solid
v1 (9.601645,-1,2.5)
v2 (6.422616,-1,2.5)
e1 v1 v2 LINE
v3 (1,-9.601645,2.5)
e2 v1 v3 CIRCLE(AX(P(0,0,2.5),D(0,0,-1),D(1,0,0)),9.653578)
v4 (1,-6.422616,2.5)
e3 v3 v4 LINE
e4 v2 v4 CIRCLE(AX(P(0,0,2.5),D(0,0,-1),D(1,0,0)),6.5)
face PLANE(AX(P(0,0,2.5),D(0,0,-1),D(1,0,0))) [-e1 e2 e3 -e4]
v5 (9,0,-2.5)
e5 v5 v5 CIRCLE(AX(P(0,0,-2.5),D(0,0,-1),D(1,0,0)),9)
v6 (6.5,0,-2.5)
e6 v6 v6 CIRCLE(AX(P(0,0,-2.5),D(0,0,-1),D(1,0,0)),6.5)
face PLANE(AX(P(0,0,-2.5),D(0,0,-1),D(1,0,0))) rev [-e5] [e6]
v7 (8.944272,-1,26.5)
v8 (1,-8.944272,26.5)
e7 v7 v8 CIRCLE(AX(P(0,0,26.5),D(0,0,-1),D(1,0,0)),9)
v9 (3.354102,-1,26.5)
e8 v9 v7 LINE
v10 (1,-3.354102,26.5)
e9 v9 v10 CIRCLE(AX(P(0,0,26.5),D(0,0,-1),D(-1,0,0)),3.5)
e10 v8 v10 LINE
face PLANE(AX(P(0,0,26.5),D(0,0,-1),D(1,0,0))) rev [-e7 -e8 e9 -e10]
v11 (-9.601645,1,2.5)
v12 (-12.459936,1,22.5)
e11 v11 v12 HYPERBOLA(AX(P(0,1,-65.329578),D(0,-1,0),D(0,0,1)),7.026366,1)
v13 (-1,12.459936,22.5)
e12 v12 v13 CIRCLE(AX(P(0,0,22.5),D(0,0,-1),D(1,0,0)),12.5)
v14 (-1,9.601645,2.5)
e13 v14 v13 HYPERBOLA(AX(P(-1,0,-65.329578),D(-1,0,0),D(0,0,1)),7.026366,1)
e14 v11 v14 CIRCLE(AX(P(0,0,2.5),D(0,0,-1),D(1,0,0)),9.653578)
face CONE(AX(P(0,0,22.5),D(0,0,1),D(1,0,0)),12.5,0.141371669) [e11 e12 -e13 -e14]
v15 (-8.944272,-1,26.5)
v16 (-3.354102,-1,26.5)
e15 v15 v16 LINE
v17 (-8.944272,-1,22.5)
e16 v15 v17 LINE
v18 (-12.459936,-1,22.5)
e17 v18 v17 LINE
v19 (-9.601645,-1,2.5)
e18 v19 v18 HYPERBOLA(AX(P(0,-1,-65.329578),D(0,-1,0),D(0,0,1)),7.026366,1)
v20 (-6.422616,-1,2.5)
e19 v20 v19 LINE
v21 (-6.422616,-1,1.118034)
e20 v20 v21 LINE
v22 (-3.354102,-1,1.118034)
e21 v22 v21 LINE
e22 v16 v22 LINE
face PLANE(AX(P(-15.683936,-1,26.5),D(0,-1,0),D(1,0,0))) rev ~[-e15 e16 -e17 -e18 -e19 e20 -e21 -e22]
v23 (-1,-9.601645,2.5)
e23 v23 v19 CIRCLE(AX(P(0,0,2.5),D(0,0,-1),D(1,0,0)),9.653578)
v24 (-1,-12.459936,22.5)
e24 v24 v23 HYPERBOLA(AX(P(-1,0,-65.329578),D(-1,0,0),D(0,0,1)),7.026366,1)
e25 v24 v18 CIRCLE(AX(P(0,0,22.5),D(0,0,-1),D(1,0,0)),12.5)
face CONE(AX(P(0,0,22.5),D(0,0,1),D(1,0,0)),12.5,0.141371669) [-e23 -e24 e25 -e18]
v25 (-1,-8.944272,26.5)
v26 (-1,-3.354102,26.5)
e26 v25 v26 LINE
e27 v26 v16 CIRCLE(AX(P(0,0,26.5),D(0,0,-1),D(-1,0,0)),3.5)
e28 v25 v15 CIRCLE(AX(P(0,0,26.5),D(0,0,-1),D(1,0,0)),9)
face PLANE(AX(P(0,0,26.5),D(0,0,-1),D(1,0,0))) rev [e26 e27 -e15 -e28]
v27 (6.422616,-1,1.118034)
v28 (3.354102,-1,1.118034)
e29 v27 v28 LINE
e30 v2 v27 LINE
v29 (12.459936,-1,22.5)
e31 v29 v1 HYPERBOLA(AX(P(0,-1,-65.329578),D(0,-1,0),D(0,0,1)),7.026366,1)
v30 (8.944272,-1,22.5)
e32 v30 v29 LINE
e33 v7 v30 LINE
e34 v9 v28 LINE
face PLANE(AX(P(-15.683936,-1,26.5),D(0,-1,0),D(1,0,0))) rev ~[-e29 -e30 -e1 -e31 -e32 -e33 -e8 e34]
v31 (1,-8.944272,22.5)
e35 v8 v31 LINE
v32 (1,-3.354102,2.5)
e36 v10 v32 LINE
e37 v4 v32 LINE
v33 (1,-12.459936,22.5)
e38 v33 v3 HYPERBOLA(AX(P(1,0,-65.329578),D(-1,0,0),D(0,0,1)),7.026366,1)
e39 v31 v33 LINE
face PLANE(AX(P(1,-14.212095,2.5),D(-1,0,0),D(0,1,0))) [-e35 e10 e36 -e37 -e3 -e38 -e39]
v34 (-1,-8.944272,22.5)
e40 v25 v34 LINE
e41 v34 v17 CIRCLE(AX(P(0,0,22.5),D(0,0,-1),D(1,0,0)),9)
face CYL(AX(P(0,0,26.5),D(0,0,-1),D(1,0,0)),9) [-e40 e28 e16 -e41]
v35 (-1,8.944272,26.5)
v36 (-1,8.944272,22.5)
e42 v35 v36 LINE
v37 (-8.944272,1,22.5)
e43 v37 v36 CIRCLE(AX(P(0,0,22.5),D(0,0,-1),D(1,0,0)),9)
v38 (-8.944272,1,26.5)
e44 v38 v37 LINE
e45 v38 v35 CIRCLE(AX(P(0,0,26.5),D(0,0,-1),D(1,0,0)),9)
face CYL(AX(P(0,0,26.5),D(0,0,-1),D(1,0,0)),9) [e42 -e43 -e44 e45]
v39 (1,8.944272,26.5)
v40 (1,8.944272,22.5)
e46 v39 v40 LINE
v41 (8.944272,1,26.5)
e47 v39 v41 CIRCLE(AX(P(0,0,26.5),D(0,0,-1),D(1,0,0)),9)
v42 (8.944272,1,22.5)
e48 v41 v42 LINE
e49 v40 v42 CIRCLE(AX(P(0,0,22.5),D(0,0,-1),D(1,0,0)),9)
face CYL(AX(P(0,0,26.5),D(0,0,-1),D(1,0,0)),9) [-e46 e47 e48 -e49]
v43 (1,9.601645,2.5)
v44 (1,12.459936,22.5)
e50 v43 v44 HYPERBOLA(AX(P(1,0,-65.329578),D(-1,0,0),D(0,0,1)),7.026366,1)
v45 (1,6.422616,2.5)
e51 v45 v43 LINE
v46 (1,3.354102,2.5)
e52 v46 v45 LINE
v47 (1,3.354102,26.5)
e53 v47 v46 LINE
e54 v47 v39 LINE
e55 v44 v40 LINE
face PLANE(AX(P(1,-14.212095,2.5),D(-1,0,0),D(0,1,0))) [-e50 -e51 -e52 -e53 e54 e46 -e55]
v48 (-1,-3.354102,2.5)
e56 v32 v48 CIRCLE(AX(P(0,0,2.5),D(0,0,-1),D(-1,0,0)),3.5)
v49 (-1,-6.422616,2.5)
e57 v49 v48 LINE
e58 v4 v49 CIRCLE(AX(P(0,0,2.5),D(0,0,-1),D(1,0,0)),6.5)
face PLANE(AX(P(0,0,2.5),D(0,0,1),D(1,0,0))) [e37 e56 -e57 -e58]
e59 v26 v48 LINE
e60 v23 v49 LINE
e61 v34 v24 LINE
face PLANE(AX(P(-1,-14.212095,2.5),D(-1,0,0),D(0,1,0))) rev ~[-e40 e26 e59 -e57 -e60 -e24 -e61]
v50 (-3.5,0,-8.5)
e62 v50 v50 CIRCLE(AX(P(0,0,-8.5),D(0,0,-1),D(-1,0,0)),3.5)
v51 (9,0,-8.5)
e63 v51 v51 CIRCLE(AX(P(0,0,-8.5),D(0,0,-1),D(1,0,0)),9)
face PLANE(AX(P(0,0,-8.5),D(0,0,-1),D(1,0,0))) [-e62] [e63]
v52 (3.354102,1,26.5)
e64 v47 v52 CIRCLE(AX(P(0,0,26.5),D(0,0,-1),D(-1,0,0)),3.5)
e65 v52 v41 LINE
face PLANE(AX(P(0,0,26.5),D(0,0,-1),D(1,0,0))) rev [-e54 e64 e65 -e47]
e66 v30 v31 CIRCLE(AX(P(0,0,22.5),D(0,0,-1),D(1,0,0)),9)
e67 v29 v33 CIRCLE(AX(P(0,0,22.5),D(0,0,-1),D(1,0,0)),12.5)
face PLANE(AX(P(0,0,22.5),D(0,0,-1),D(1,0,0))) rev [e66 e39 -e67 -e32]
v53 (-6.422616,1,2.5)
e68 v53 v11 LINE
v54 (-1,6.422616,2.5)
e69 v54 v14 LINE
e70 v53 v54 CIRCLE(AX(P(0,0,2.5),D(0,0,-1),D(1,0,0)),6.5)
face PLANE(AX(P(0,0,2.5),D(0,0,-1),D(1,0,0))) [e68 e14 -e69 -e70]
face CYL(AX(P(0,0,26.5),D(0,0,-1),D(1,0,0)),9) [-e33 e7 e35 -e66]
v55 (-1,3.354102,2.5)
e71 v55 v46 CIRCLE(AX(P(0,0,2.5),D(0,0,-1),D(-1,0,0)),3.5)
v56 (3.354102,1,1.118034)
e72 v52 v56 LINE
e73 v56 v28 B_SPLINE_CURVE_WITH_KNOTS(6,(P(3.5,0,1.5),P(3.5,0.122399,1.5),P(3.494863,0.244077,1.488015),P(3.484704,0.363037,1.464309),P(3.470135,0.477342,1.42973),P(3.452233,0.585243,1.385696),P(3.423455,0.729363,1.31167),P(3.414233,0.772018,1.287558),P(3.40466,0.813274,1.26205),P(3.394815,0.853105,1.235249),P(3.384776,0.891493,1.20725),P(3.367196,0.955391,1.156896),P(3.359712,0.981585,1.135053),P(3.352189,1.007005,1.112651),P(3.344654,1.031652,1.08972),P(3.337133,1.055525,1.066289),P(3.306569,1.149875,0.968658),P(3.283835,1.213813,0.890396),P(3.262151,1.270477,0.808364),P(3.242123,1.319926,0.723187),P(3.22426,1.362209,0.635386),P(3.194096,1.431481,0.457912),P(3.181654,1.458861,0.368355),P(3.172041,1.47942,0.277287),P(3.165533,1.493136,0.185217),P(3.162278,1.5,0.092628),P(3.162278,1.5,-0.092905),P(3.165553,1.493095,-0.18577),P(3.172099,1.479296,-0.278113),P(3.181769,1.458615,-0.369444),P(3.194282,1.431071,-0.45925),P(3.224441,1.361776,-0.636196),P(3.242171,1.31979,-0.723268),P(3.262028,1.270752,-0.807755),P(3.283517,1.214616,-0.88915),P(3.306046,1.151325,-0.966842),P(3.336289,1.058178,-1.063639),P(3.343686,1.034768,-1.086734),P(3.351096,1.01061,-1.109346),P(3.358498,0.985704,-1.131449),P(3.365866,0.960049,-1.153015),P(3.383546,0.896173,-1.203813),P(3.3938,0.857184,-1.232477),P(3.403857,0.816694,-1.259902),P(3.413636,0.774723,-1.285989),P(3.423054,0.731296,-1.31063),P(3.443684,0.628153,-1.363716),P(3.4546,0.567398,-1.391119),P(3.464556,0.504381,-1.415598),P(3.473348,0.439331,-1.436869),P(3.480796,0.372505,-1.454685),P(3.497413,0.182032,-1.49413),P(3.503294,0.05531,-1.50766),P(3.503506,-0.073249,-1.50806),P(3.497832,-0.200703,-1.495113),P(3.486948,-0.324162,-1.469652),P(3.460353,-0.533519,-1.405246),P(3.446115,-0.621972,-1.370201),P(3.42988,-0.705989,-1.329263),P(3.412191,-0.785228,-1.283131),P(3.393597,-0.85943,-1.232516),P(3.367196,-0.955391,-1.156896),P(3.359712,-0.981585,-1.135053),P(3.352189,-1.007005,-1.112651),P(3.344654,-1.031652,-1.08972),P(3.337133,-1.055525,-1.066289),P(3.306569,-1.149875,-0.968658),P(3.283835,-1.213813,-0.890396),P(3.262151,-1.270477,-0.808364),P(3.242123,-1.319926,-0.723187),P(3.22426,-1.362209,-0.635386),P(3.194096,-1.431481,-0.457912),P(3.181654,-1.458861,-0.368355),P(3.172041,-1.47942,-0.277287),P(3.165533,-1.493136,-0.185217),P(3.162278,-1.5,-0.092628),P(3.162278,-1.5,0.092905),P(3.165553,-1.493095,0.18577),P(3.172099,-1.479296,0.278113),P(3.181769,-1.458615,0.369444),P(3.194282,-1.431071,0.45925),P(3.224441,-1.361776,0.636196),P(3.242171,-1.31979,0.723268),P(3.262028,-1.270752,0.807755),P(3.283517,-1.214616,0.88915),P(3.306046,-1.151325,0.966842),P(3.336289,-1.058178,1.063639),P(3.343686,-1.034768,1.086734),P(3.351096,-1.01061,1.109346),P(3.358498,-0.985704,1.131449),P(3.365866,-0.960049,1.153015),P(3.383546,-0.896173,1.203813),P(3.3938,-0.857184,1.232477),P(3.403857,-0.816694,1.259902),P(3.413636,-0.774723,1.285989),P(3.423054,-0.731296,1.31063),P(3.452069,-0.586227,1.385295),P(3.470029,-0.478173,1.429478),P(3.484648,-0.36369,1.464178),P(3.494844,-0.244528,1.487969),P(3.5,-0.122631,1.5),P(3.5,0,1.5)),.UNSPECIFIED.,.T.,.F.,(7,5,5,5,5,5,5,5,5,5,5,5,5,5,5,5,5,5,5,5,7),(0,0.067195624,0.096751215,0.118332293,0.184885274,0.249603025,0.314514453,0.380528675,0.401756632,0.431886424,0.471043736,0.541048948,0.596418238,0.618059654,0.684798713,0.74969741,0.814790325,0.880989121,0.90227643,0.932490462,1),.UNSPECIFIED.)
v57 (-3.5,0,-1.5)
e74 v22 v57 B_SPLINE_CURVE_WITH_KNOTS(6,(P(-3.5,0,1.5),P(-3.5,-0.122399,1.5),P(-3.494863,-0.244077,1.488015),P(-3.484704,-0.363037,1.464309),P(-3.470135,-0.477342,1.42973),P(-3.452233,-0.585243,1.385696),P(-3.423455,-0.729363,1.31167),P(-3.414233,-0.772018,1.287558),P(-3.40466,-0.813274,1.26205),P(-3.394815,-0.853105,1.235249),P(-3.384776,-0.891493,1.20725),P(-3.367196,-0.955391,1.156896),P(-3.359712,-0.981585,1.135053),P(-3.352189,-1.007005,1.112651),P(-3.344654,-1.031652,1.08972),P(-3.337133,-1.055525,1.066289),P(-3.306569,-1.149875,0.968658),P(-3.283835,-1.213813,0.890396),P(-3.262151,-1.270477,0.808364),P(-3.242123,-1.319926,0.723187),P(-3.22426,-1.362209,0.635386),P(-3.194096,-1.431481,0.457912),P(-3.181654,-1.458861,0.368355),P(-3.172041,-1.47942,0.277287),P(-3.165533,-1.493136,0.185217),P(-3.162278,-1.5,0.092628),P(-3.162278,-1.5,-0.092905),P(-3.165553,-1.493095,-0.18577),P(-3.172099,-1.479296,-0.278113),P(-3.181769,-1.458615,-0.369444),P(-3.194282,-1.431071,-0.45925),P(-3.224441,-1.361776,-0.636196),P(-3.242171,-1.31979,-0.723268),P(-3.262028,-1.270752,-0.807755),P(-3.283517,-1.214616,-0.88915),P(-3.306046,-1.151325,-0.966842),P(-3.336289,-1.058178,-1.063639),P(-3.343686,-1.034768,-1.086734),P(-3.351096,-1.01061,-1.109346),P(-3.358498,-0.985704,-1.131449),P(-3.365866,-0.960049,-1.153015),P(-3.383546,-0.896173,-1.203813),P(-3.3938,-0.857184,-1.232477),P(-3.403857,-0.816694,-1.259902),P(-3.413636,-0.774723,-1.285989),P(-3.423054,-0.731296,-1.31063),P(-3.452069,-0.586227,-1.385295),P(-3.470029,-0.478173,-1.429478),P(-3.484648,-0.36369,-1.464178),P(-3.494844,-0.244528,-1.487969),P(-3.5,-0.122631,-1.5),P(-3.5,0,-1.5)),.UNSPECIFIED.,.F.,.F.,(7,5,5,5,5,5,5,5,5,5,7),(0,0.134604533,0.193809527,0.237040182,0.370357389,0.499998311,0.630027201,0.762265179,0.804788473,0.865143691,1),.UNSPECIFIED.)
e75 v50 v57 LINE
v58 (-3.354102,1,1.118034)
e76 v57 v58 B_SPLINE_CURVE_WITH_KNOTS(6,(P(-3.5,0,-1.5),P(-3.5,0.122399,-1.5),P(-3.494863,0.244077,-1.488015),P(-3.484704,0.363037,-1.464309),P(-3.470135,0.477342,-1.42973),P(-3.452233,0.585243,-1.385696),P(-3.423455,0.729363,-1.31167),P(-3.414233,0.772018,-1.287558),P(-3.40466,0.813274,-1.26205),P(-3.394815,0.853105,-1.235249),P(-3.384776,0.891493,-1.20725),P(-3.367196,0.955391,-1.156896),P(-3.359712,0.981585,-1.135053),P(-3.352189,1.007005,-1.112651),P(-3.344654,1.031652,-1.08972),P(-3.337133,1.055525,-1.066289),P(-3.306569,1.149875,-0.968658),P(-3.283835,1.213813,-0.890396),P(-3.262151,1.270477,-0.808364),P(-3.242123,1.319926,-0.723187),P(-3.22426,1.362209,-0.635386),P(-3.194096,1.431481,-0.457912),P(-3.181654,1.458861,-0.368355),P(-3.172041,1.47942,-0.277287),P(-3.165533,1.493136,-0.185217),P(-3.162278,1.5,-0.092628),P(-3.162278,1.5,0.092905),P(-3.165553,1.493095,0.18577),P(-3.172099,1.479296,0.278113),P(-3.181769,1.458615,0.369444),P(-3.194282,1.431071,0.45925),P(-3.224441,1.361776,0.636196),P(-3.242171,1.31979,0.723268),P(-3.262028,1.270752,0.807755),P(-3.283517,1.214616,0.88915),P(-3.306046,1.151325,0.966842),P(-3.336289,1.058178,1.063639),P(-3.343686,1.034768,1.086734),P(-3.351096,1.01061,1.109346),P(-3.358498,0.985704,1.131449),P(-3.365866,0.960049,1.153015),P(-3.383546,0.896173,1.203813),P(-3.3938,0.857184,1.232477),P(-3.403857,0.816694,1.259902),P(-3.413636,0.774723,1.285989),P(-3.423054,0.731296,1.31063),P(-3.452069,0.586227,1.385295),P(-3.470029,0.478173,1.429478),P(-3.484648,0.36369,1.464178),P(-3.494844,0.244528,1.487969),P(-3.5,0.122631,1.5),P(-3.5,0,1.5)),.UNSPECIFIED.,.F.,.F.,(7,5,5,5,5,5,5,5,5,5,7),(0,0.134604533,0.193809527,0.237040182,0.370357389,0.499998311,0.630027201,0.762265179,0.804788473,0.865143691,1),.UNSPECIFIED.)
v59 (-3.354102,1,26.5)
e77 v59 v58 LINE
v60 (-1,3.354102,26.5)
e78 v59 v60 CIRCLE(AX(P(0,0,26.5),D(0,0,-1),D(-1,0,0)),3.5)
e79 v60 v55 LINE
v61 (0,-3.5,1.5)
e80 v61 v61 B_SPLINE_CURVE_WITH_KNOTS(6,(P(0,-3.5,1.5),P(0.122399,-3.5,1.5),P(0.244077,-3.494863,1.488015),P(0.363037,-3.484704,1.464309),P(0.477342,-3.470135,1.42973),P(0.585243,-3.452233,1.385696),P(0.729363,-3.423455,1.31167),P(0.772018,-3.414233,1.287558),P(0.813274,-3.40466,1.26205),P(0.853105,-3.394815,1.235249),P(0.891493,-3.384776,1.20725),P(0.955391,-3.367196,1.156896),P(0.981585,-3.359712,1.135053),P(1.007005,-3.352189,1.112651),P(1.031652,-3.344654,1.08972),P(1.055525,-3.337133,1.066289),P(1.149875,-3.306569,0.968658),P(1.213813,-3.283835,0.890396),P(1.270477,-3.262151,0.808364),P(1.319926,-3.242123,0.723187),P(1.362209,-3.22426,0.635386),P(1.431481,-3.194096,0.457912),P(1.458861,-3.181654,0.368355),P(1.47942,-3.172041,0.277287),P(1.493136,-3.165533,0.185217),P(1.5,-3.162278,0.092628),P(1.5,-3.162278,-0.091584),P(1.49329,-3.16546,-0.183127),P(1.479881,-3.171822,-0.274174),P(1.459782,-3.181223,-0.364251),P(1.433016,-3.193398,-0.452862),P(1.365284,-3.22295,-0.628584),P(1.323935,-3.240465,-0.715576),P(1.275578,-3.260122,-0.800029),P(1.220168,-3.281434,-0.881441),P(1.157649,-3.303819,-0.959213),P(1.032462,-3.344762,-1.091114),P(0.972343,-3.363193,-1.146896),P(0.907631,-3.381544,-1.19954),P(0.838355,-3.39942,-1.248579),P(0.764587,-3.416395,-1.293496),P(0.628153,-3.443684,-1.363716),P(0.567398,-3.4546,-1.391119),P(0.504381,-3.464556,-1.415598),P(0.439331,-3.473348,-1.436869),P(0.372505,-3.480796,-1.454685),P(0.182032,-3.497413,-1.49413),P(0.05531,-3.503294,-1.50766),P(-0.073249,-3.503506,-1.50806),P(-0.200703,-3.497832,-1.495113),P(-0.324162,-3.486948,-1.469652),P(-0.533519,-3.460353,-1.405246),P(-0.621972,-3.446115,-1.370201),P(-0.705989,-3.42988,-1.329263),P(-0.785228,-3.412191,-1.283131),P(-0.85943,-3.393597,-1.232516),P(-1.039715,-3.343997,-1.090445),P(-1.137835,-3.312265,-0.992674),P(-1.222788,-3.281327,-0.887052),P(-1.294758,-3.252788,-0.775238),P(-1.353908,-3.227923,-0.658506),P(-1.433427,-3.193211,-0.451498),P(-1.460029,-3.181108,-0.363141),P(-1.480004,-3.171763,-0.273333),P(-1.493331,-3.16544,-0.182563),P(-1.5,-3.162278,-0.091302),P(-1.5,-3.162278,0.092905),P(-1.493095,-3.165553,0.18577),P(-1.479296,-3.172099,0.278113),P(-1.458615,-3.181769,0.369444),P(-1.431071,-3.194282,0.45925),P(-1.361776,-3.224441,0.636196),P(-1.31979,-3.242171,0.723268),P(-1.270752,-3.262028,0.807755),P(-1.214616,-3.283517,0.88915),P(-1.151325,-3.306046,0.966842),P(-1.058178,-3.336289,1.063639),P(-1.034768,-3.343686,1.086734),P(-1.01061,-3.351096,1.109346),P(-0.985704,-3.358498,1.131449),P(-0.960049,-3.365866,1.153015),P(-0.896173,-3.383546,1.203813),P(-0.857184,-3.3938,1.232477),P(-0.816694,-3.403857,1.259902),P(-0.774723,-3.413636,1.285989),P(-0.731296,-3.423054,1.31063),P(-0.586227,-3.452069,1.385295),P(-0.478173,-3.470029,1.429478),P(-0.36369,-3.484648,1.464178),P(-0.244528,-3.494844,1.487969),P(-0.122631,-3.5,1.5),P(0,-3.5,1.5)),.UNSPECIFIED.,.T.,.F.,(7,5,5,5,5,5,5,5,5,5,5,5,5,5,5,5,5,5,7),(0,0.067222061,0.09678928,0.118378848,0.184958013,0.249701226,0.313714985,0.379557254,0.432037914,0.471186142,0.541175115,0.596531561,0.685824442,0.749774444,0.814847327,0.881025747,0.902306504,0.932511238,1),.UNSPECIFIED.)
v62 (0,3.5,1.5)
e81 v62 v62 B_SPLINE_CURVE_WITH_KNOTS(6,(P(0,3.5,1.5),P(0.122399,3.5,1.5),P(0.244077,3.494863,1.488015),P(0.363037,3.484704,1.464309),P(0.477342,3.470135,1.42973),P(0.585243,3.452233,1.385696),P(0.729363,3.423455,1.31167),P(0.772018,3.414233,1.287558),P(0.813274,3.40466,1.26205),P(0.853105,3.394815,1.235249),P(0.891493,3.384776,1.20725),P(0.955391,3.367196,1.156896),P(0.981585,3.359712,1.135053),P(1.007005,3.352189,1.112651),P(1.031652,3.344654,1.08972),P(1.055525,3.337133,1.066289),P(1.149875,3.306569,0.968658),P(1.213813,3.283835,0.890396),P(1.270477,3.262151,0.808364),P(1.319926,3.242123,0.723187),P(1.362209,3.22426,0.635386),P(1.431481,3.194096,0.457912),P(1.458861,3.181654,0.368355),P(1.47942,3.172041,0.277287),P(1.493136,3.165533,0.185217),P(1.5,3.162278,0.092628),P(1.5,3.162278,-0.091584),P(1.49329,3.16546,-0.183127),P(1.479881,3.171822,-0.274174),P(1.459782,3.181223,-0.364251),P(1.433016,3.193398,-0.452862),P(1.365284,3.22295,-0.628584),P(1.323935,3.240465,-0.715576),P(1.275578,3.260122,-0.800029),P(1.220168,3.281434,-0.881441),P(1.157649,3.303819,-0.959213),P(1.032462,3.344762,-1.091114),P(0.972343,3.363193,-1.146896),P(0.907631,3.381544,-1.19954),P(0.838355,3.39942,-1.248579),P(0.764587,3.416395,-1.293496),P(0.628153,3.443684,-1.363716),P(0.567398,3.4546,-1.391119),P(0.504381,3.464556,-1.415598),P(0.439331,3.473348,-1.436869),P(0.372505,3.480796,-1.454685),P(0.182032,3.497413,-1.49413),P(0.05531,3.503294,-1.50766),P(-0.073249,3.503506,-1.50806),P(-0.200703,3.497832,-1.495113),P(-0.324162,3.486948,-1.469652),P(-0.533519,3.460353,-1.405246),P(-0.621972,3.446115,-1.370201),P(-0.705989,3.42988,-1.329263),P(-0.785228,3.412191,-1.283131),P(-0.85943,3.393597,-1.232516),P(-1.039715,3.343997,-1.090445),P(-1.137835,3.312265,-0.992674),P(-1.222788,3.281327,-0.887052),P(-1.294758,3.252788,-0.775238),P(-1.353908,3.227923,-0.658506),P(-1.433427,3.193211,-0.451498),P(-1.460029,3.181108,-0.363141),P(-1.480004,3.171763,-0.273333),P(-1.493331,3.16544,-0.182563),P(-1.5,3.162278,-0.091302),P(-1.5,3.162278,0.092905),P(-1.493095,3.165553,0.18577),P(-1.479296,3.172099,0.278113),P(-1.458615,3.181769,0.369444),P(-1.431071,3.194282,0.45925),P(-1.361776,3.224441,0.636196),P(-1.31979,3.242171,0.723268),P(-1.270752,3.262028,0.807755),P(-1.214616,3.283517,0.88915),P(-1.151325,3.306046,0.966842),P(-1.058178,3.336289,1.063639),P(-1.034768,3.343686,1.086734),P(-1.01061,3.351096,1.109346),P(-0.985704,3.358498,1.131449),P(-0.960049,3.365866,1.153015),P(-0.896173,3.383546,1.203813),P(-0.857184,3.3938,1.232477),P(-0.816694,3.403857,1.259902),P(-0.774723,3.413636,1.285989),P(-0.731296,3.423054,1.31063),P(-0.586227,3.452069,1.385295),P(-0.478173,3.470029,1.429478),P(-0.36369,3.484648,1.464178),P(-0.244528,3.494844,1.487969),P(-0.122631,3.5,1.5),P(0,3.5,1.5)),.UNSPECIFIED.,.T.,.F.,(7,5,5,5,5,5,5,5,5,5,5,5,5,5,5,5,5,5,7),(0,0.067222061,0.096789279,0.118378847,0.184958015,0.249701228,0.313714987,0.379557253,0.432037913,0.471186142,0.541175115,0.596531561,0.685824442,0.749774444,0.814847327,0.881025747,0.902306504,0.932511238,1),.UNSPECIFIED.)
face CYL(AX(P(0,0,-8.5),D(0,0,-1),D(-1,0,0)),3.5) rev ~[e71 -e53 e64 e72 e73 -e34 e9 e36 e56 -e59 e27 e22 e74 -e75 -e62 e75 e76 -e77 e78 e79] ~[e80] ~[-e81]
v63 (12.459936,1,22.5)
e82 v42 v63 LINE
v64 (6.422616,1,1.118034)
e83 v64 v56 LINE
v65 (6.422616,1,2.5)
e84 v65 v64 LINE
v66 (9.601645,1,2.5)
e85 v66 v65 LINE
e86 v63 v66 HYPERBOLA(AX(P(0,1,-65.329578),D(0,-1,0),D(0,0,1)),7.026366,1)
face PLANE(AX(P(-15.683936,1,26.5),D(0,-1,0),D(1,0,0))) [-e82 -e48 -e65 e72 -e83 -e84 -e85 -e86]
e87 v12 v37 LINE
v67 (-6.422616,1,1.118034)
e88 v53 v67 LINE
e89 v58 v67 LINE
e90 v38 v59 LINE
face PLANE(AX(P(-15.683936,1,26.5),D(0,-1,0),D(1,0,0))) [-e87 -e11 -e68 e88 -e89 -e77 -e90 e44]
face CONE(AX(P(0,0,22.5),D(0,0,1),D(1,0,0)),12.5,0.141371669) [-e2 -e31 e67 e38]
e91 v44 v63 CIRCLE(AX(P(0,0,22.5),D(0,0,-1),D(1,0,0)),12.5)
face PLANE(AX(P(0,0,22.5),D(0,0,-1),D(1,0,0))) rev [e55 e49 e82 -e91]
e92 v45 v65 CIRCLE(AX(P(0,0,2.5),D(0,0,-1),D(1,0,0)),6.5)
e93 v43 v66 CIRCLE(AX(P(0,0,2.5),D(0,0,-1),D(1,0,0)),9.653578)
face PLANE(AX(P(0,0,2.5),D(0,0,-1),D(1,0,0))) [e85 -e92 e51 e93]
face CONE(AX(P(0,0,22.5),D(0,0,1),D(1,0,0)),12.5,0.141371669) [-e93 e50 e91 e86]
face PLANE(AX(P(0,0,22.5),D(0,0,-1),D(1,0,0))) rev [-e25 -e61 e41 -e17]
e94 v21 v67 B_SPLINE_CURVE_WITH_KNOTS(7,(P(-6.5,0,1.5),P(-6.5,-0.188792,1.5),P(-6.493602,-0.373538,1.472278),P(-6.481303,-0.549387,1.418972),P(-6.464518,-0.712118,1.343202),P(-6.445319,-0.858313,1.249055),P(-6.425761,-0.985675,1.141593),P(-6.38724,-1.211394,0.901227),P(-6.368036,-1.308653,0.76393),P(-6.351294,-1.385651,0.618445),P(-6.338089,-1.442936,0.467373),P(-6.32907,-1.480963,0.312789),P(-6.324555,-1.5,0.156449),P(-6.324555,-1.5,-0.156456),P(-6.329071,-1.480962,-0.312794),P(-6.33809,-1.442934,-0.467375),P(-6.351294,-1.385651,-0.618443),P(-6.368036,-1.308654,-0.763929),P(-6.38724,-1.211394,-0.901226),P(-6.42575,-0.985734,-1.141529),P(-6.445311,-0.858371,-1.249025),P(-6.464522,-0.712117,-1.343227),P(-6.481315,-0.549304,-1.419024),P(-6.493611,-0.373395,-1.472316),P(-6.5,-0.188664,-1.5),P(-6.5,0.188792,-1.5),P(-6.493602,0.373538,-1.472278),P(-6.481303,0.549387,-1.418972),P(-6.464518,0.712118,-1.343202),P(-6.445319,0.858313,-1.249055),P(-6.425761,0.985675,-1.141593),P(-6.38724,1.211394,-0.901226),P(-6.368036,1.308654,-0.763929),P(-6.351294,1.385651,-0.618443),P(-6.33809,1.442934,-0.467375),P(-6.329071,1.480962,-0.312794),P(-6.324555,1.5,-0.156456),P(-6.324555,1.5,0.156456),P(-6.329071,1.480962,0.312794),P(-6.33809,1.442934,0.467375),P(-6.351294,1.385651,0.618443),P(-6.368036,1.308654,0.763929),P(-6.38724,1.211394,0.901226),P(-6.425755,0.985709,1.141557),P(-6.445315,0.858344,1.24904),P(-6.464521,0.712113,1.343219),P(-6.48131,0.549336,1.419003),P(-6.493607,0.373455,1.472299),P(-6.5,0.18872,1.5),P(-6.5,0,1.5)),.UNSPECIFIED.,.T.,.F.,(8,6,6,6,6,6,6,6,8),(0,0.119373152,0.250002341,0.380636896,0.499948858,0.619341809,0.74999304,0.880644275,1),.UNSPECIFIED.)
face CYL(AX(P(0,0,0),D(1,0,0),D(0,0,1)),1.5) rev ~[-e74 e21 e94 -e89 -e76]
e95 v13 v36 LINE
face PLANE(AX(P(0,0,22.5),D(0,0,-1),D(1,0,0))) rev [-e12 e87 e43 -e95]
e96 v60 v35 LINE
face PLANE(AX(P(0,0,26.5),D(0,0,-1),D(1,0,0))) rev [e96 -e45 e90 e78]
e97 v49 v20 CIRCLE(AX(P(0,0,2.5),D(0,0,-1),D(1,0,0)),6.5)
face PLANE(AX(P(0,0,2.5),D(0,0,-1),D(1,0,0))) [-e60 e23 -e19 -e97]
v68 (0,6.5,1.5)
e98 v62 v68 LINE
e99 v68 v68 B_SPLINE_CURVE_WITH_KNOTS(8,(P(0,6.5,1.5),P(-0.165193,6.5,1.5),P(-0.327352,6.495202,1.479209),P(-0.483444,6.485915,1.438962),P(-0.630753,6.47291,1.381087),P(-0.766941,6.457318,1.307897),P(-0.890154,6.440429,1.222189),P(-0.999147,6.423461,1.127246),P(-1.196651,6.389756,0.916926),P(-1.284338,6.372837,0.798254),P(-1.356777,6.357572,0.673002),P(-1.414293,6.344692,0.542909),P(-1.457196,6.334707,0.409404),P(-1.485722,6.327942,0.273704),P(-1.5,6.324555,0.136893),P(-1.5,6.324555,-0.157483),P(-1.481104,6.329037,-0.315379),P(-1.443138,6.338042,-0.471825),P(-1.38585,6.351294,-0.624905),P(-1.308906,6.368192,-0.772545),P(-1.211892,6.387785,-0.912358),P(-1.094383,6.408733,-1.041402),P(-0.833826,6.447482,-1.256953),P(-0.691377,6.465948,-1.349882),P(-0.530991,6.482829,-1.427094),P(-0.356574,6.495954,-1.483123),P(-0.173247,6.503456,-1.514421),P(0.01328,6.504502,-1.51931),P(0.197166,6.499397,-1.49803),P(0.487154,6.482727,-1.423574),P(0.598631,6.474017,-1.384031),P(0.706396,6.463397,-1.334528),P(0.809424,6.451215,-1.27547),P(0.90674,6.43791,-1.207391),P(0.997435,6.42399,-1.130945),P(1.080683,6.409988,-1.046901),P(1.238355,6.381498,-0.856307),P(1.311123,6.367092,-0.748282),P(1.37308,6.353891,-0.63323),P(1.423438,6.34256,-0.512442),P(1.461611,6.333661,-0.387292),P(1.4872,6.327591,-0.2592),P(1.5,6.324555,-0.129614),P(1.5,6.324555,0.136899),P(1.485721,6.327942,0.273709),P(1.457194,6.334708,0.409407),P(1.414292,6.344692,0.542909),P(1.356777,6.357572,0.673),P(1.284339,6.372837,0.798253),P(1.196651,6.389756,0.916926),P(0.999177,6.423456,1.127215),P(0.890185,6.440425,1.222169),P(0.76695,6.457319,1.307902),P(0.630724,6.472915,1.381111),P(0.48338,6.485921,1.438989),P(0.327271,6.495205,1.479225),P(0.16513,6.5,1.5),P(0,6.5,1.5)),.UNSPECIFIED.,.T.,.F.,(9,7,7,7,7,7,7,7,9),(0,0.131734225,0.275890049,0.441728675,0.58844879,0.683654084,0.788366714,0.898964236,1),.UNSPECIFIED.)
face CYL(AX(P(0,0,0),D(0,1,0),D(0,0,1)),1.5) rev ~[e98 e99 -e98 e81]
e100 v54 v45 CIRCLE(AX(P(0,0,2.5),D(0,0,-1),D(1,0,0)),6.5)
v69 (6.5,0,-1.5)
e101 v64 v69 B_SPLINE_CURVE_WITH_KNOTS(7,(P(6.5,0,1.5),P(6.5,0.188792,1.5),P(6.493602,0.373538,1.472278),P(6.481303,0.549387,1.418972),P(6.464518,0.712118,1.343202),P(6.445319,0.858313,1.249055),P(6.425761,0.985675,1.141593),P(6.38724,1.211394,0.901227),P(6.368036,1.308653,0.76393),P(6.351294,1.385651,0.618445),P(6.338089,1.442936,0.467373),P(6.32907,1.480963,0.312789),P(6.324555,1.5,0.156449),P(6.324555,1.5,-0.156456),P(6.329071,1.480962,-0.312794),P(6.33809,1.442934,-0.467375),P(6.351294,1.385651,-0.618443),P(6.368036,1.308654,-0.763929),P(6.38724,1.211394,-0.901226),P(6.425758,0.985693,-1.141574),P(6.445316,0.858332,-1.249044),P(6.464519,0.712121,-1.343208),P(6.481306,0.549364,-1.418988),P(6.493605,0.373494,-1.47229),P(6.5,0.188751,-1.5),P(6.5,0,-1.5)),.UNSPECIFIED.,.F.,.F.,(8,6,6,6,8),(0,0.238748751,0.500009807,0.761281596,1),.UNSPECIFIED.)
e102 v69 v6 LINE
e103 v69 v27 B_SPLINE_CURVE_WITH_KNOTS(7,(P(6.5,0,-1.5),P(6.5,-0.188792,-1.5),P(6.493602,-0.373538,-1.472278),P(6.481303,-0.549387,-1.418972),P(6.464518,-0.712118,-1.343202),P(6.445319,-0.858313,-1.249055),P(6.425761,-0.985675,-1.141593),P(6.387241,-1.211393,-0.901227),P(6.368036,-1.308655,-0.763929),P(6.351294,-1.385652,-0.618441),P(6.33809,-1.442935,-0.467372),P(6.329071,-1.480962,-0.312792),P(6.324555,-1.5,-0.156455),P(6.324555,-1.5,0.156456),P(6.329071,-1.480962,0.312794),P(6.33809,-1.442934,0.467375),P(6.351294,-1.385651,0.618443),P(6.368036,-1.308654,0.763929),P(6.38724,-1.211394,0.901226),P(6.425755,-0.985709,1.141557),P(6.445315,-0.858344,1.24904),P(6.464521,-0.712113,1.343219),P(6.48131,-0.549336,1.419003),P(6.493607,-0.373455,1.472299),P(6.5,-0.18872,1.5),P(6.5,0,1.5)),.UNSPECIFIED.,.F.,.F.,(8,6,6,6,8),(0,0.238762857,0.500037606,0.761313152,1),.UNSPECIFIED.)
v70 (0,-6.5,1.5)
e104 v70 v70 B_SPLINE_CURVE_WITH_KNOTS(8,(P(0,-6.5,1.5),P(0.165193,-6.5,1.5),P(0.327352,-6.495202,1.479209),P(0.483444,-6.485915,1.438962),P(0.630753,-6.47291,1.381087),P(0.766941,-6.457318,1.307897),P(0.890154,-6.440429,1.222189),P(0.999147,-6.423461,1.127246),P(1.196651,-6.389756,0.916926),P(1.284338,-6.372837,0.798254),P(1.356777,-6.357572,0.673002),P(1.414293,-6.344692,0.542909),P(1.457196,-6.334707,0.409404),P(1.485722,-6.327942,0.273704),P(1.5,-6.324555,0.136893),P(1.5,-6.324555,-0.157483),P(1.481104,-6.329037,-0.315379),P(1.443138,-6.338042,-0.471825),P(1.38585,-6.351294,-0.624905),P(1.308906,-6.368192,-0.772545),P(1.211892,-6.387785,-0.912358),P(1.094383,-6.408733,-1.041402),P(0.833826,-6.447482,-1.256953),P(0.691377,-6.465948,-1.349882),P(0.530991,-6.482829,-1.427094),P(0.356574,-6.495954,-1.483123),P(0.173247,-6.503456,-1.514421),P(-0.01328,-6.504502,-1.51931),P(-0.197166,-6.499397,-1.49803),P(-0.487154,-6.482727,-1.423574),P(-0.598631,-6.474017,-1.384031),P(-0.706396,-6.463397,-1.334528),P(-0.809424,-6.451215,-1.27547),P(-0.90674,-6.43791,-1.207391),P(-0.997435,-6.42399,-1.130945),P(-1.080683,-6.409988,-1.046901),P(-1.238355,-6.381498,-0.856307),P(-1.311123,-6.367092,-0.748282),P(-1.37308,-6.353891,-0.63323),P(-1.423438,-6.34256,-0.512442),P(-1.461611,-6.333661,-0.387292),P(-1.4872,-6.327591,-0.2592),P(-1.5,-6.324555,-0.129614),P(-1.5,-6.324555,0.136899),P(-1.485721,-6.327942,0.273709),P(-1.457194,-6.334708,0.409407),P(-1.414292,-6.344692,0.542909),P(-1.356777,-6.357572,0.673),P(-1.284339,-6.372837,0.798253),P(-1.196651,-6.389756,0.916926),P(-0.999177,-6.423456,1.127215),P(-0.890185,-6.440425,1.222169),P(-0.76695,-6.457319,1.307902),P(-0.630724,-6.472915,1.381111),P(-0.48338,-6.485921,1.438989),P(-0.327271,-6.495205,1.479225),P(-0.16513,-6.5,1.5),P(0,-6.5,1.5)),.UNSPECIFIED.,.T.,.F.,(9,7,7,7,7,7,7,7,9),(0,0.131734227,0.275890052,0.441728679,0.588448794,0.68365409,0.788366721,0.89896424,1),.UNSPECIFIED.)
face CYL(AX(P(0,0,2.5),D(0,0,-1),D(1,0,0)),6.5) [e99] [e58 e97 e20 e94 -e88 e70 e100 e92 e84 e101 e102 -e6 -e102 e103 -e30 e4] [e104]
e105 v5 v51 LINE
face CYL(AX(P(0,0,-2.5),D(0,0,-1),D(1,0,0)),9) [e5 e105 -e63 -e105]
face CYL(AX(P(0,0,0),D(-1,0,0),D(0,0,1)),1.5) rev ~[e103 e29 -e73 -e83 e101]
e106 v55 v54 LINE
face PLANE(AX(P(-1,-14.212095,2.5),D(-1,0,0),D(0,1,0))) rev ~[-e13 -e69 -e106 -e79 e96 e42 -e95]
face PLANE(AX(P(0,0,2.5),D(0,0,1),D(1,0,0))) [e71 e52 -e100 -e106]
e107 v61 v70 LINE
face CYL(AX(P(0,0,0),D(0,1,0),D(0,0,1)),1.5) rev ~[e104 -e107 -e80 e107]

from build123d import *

# Parameters (mm, degrees)
SKETCH_2_R               = 1.5
CUT_EXTRUDE_1_DEPTH      = 10
PATTERN_CIRCULAR_1_COUNT = 4
CUT_EXTRUDE_3_REACH      = 41.211
SKETCH_3_R               = 3.5
CUT_EXTRUDE_4_REACH      = 41.211
CUT_EXTRUDE_4_END_RADIUS = 1.5
SKETCH_4_W               = 31.367872694
SKETCH_4_H               = 2
CUT_EXTRUDE_START        = -24
SKETCH_5_W               = 2
SKETCH_5_H               = 28.424190946
CUT_EXTRUDE_5_DEPTH      = 24


with BuildPart() as part:
    # 草图1 → 旋转1 (revolve)
    with BuildSketch(Plane(origin=(0, 0, 0), x_dir=(0, 0, -1), z_dir=(1, 0, 0)), mode=Mode.PRIVATE) as revolve_1_sk:
        Polygon((-2.5, 6.5), (2.5, 6.5), (2.5, 9), (8.5, 9), (8.5, 0), (-26.5, 0), (-26.5, 9), (-22.5, 9), (-22.5, 12.5), (-2.5, 9.653578486), align=None)
    revolve(revolve_1_sk.sketch.rotate(Axis((0, 0, 115.12599891), (0, 0, -1)), 90), axis=Axis((0, 0, 115.12599891), (0, 0, -1)))

    # 草图2 → 切除-拉伸1 (cut)
    with BuildSketch(Plane(origin=(0, 0, 0), x_dir=(1, 0, 0), z_dir=(0, 1, 0))):
        with Locations(Location((0, 0, 0), (0, 0, 270))):
            Circle(SKETCH_2_R)
    cut_extrude_1 = extrude(amount=-CUT_EXTRUDE_1_DEPTH, mode=Mode.SUBTRACT)

    # 阵列(圆周)1: 切除-拉伸1 ×4 about axis
    pattern_circular_1_axis = Axis((0, 0, 2.5), (0, 0, 1))
    for i in range(1, PATTERN_CIRCULAR_1_COUNT):
        add(cut_extrude_1.rotate(pattern_circular_1_axis, i * 360 / PATTERN_CIRCULAR_1_COUNT), mode=Mode.SUBTRACT)

    # 草图3 → 切除-拉伸3 (cut, up to next)
    with BuildSketch(Plane(origin=(0, 0, -8.5), x_dir=(-1, 0, 0), z_dir=(0, 0, -1)), mode=Mode.PRIVATE) as cut_extrude_3_sk1:
        Circle(SKETCH_3_R)
    cut_extrude_3_tool1 = extrude(cut_extrude_3_sk1.sketch, amount=-CUT_EXTRUDE_3_REACH, mode=Mode.PRIVATE) & part.part
    add(cut_extrude_3_tool1.solids().sort_by_distance((0, 0, -8.5))[0], mode=Mode.SUBTRACT)

    # 切除-拉伸4: up to this cylinder (the profile starts outside it)
    cut_extrude_4_end = Plane(origin=(0, 0, 0), z_dir=(-1, 0, 0)) * Cylinder(CUT_EXTRUDE_4_END_RADIUS, 86.422, mode=Mode.PRIVATE)
    # 草图4 → 切除-拉伸4 (cut, up to the surface)
    with BuildSketch(Plane.XY.offset(26.5), mode=Mode.PRIVATE) as cut_extrude_4_sk1:
        Rectangle(SKETCH_4_W, SKETCH_4_H)
    cut_extrude_4_tool1 = extrude(cut_extrude_4_sk1.sketch, amount=-CUT_EXTRUDE_4_REACH, mode=Mode.PRIVATE) - cut_extrude_4_end
    add(cut_extrude_4_tool1.solids().sort_by_distance((0, 0, 26.5))[0], mode=Mode.SUBTRACT)

    # 草图5 → 切除-拉伸5 (cut)
    with BuildSketch(Plane.XY.offset(26.5).offset(CUT_EXTRUDE_START)):
        Rectangle(SKETCH_5_W, SKETCH_5_H)
    extrude(amount=CUT_EXTRUDE_5_DEPTH, mode=Mode.SUBTRACT)


solid = part.part
